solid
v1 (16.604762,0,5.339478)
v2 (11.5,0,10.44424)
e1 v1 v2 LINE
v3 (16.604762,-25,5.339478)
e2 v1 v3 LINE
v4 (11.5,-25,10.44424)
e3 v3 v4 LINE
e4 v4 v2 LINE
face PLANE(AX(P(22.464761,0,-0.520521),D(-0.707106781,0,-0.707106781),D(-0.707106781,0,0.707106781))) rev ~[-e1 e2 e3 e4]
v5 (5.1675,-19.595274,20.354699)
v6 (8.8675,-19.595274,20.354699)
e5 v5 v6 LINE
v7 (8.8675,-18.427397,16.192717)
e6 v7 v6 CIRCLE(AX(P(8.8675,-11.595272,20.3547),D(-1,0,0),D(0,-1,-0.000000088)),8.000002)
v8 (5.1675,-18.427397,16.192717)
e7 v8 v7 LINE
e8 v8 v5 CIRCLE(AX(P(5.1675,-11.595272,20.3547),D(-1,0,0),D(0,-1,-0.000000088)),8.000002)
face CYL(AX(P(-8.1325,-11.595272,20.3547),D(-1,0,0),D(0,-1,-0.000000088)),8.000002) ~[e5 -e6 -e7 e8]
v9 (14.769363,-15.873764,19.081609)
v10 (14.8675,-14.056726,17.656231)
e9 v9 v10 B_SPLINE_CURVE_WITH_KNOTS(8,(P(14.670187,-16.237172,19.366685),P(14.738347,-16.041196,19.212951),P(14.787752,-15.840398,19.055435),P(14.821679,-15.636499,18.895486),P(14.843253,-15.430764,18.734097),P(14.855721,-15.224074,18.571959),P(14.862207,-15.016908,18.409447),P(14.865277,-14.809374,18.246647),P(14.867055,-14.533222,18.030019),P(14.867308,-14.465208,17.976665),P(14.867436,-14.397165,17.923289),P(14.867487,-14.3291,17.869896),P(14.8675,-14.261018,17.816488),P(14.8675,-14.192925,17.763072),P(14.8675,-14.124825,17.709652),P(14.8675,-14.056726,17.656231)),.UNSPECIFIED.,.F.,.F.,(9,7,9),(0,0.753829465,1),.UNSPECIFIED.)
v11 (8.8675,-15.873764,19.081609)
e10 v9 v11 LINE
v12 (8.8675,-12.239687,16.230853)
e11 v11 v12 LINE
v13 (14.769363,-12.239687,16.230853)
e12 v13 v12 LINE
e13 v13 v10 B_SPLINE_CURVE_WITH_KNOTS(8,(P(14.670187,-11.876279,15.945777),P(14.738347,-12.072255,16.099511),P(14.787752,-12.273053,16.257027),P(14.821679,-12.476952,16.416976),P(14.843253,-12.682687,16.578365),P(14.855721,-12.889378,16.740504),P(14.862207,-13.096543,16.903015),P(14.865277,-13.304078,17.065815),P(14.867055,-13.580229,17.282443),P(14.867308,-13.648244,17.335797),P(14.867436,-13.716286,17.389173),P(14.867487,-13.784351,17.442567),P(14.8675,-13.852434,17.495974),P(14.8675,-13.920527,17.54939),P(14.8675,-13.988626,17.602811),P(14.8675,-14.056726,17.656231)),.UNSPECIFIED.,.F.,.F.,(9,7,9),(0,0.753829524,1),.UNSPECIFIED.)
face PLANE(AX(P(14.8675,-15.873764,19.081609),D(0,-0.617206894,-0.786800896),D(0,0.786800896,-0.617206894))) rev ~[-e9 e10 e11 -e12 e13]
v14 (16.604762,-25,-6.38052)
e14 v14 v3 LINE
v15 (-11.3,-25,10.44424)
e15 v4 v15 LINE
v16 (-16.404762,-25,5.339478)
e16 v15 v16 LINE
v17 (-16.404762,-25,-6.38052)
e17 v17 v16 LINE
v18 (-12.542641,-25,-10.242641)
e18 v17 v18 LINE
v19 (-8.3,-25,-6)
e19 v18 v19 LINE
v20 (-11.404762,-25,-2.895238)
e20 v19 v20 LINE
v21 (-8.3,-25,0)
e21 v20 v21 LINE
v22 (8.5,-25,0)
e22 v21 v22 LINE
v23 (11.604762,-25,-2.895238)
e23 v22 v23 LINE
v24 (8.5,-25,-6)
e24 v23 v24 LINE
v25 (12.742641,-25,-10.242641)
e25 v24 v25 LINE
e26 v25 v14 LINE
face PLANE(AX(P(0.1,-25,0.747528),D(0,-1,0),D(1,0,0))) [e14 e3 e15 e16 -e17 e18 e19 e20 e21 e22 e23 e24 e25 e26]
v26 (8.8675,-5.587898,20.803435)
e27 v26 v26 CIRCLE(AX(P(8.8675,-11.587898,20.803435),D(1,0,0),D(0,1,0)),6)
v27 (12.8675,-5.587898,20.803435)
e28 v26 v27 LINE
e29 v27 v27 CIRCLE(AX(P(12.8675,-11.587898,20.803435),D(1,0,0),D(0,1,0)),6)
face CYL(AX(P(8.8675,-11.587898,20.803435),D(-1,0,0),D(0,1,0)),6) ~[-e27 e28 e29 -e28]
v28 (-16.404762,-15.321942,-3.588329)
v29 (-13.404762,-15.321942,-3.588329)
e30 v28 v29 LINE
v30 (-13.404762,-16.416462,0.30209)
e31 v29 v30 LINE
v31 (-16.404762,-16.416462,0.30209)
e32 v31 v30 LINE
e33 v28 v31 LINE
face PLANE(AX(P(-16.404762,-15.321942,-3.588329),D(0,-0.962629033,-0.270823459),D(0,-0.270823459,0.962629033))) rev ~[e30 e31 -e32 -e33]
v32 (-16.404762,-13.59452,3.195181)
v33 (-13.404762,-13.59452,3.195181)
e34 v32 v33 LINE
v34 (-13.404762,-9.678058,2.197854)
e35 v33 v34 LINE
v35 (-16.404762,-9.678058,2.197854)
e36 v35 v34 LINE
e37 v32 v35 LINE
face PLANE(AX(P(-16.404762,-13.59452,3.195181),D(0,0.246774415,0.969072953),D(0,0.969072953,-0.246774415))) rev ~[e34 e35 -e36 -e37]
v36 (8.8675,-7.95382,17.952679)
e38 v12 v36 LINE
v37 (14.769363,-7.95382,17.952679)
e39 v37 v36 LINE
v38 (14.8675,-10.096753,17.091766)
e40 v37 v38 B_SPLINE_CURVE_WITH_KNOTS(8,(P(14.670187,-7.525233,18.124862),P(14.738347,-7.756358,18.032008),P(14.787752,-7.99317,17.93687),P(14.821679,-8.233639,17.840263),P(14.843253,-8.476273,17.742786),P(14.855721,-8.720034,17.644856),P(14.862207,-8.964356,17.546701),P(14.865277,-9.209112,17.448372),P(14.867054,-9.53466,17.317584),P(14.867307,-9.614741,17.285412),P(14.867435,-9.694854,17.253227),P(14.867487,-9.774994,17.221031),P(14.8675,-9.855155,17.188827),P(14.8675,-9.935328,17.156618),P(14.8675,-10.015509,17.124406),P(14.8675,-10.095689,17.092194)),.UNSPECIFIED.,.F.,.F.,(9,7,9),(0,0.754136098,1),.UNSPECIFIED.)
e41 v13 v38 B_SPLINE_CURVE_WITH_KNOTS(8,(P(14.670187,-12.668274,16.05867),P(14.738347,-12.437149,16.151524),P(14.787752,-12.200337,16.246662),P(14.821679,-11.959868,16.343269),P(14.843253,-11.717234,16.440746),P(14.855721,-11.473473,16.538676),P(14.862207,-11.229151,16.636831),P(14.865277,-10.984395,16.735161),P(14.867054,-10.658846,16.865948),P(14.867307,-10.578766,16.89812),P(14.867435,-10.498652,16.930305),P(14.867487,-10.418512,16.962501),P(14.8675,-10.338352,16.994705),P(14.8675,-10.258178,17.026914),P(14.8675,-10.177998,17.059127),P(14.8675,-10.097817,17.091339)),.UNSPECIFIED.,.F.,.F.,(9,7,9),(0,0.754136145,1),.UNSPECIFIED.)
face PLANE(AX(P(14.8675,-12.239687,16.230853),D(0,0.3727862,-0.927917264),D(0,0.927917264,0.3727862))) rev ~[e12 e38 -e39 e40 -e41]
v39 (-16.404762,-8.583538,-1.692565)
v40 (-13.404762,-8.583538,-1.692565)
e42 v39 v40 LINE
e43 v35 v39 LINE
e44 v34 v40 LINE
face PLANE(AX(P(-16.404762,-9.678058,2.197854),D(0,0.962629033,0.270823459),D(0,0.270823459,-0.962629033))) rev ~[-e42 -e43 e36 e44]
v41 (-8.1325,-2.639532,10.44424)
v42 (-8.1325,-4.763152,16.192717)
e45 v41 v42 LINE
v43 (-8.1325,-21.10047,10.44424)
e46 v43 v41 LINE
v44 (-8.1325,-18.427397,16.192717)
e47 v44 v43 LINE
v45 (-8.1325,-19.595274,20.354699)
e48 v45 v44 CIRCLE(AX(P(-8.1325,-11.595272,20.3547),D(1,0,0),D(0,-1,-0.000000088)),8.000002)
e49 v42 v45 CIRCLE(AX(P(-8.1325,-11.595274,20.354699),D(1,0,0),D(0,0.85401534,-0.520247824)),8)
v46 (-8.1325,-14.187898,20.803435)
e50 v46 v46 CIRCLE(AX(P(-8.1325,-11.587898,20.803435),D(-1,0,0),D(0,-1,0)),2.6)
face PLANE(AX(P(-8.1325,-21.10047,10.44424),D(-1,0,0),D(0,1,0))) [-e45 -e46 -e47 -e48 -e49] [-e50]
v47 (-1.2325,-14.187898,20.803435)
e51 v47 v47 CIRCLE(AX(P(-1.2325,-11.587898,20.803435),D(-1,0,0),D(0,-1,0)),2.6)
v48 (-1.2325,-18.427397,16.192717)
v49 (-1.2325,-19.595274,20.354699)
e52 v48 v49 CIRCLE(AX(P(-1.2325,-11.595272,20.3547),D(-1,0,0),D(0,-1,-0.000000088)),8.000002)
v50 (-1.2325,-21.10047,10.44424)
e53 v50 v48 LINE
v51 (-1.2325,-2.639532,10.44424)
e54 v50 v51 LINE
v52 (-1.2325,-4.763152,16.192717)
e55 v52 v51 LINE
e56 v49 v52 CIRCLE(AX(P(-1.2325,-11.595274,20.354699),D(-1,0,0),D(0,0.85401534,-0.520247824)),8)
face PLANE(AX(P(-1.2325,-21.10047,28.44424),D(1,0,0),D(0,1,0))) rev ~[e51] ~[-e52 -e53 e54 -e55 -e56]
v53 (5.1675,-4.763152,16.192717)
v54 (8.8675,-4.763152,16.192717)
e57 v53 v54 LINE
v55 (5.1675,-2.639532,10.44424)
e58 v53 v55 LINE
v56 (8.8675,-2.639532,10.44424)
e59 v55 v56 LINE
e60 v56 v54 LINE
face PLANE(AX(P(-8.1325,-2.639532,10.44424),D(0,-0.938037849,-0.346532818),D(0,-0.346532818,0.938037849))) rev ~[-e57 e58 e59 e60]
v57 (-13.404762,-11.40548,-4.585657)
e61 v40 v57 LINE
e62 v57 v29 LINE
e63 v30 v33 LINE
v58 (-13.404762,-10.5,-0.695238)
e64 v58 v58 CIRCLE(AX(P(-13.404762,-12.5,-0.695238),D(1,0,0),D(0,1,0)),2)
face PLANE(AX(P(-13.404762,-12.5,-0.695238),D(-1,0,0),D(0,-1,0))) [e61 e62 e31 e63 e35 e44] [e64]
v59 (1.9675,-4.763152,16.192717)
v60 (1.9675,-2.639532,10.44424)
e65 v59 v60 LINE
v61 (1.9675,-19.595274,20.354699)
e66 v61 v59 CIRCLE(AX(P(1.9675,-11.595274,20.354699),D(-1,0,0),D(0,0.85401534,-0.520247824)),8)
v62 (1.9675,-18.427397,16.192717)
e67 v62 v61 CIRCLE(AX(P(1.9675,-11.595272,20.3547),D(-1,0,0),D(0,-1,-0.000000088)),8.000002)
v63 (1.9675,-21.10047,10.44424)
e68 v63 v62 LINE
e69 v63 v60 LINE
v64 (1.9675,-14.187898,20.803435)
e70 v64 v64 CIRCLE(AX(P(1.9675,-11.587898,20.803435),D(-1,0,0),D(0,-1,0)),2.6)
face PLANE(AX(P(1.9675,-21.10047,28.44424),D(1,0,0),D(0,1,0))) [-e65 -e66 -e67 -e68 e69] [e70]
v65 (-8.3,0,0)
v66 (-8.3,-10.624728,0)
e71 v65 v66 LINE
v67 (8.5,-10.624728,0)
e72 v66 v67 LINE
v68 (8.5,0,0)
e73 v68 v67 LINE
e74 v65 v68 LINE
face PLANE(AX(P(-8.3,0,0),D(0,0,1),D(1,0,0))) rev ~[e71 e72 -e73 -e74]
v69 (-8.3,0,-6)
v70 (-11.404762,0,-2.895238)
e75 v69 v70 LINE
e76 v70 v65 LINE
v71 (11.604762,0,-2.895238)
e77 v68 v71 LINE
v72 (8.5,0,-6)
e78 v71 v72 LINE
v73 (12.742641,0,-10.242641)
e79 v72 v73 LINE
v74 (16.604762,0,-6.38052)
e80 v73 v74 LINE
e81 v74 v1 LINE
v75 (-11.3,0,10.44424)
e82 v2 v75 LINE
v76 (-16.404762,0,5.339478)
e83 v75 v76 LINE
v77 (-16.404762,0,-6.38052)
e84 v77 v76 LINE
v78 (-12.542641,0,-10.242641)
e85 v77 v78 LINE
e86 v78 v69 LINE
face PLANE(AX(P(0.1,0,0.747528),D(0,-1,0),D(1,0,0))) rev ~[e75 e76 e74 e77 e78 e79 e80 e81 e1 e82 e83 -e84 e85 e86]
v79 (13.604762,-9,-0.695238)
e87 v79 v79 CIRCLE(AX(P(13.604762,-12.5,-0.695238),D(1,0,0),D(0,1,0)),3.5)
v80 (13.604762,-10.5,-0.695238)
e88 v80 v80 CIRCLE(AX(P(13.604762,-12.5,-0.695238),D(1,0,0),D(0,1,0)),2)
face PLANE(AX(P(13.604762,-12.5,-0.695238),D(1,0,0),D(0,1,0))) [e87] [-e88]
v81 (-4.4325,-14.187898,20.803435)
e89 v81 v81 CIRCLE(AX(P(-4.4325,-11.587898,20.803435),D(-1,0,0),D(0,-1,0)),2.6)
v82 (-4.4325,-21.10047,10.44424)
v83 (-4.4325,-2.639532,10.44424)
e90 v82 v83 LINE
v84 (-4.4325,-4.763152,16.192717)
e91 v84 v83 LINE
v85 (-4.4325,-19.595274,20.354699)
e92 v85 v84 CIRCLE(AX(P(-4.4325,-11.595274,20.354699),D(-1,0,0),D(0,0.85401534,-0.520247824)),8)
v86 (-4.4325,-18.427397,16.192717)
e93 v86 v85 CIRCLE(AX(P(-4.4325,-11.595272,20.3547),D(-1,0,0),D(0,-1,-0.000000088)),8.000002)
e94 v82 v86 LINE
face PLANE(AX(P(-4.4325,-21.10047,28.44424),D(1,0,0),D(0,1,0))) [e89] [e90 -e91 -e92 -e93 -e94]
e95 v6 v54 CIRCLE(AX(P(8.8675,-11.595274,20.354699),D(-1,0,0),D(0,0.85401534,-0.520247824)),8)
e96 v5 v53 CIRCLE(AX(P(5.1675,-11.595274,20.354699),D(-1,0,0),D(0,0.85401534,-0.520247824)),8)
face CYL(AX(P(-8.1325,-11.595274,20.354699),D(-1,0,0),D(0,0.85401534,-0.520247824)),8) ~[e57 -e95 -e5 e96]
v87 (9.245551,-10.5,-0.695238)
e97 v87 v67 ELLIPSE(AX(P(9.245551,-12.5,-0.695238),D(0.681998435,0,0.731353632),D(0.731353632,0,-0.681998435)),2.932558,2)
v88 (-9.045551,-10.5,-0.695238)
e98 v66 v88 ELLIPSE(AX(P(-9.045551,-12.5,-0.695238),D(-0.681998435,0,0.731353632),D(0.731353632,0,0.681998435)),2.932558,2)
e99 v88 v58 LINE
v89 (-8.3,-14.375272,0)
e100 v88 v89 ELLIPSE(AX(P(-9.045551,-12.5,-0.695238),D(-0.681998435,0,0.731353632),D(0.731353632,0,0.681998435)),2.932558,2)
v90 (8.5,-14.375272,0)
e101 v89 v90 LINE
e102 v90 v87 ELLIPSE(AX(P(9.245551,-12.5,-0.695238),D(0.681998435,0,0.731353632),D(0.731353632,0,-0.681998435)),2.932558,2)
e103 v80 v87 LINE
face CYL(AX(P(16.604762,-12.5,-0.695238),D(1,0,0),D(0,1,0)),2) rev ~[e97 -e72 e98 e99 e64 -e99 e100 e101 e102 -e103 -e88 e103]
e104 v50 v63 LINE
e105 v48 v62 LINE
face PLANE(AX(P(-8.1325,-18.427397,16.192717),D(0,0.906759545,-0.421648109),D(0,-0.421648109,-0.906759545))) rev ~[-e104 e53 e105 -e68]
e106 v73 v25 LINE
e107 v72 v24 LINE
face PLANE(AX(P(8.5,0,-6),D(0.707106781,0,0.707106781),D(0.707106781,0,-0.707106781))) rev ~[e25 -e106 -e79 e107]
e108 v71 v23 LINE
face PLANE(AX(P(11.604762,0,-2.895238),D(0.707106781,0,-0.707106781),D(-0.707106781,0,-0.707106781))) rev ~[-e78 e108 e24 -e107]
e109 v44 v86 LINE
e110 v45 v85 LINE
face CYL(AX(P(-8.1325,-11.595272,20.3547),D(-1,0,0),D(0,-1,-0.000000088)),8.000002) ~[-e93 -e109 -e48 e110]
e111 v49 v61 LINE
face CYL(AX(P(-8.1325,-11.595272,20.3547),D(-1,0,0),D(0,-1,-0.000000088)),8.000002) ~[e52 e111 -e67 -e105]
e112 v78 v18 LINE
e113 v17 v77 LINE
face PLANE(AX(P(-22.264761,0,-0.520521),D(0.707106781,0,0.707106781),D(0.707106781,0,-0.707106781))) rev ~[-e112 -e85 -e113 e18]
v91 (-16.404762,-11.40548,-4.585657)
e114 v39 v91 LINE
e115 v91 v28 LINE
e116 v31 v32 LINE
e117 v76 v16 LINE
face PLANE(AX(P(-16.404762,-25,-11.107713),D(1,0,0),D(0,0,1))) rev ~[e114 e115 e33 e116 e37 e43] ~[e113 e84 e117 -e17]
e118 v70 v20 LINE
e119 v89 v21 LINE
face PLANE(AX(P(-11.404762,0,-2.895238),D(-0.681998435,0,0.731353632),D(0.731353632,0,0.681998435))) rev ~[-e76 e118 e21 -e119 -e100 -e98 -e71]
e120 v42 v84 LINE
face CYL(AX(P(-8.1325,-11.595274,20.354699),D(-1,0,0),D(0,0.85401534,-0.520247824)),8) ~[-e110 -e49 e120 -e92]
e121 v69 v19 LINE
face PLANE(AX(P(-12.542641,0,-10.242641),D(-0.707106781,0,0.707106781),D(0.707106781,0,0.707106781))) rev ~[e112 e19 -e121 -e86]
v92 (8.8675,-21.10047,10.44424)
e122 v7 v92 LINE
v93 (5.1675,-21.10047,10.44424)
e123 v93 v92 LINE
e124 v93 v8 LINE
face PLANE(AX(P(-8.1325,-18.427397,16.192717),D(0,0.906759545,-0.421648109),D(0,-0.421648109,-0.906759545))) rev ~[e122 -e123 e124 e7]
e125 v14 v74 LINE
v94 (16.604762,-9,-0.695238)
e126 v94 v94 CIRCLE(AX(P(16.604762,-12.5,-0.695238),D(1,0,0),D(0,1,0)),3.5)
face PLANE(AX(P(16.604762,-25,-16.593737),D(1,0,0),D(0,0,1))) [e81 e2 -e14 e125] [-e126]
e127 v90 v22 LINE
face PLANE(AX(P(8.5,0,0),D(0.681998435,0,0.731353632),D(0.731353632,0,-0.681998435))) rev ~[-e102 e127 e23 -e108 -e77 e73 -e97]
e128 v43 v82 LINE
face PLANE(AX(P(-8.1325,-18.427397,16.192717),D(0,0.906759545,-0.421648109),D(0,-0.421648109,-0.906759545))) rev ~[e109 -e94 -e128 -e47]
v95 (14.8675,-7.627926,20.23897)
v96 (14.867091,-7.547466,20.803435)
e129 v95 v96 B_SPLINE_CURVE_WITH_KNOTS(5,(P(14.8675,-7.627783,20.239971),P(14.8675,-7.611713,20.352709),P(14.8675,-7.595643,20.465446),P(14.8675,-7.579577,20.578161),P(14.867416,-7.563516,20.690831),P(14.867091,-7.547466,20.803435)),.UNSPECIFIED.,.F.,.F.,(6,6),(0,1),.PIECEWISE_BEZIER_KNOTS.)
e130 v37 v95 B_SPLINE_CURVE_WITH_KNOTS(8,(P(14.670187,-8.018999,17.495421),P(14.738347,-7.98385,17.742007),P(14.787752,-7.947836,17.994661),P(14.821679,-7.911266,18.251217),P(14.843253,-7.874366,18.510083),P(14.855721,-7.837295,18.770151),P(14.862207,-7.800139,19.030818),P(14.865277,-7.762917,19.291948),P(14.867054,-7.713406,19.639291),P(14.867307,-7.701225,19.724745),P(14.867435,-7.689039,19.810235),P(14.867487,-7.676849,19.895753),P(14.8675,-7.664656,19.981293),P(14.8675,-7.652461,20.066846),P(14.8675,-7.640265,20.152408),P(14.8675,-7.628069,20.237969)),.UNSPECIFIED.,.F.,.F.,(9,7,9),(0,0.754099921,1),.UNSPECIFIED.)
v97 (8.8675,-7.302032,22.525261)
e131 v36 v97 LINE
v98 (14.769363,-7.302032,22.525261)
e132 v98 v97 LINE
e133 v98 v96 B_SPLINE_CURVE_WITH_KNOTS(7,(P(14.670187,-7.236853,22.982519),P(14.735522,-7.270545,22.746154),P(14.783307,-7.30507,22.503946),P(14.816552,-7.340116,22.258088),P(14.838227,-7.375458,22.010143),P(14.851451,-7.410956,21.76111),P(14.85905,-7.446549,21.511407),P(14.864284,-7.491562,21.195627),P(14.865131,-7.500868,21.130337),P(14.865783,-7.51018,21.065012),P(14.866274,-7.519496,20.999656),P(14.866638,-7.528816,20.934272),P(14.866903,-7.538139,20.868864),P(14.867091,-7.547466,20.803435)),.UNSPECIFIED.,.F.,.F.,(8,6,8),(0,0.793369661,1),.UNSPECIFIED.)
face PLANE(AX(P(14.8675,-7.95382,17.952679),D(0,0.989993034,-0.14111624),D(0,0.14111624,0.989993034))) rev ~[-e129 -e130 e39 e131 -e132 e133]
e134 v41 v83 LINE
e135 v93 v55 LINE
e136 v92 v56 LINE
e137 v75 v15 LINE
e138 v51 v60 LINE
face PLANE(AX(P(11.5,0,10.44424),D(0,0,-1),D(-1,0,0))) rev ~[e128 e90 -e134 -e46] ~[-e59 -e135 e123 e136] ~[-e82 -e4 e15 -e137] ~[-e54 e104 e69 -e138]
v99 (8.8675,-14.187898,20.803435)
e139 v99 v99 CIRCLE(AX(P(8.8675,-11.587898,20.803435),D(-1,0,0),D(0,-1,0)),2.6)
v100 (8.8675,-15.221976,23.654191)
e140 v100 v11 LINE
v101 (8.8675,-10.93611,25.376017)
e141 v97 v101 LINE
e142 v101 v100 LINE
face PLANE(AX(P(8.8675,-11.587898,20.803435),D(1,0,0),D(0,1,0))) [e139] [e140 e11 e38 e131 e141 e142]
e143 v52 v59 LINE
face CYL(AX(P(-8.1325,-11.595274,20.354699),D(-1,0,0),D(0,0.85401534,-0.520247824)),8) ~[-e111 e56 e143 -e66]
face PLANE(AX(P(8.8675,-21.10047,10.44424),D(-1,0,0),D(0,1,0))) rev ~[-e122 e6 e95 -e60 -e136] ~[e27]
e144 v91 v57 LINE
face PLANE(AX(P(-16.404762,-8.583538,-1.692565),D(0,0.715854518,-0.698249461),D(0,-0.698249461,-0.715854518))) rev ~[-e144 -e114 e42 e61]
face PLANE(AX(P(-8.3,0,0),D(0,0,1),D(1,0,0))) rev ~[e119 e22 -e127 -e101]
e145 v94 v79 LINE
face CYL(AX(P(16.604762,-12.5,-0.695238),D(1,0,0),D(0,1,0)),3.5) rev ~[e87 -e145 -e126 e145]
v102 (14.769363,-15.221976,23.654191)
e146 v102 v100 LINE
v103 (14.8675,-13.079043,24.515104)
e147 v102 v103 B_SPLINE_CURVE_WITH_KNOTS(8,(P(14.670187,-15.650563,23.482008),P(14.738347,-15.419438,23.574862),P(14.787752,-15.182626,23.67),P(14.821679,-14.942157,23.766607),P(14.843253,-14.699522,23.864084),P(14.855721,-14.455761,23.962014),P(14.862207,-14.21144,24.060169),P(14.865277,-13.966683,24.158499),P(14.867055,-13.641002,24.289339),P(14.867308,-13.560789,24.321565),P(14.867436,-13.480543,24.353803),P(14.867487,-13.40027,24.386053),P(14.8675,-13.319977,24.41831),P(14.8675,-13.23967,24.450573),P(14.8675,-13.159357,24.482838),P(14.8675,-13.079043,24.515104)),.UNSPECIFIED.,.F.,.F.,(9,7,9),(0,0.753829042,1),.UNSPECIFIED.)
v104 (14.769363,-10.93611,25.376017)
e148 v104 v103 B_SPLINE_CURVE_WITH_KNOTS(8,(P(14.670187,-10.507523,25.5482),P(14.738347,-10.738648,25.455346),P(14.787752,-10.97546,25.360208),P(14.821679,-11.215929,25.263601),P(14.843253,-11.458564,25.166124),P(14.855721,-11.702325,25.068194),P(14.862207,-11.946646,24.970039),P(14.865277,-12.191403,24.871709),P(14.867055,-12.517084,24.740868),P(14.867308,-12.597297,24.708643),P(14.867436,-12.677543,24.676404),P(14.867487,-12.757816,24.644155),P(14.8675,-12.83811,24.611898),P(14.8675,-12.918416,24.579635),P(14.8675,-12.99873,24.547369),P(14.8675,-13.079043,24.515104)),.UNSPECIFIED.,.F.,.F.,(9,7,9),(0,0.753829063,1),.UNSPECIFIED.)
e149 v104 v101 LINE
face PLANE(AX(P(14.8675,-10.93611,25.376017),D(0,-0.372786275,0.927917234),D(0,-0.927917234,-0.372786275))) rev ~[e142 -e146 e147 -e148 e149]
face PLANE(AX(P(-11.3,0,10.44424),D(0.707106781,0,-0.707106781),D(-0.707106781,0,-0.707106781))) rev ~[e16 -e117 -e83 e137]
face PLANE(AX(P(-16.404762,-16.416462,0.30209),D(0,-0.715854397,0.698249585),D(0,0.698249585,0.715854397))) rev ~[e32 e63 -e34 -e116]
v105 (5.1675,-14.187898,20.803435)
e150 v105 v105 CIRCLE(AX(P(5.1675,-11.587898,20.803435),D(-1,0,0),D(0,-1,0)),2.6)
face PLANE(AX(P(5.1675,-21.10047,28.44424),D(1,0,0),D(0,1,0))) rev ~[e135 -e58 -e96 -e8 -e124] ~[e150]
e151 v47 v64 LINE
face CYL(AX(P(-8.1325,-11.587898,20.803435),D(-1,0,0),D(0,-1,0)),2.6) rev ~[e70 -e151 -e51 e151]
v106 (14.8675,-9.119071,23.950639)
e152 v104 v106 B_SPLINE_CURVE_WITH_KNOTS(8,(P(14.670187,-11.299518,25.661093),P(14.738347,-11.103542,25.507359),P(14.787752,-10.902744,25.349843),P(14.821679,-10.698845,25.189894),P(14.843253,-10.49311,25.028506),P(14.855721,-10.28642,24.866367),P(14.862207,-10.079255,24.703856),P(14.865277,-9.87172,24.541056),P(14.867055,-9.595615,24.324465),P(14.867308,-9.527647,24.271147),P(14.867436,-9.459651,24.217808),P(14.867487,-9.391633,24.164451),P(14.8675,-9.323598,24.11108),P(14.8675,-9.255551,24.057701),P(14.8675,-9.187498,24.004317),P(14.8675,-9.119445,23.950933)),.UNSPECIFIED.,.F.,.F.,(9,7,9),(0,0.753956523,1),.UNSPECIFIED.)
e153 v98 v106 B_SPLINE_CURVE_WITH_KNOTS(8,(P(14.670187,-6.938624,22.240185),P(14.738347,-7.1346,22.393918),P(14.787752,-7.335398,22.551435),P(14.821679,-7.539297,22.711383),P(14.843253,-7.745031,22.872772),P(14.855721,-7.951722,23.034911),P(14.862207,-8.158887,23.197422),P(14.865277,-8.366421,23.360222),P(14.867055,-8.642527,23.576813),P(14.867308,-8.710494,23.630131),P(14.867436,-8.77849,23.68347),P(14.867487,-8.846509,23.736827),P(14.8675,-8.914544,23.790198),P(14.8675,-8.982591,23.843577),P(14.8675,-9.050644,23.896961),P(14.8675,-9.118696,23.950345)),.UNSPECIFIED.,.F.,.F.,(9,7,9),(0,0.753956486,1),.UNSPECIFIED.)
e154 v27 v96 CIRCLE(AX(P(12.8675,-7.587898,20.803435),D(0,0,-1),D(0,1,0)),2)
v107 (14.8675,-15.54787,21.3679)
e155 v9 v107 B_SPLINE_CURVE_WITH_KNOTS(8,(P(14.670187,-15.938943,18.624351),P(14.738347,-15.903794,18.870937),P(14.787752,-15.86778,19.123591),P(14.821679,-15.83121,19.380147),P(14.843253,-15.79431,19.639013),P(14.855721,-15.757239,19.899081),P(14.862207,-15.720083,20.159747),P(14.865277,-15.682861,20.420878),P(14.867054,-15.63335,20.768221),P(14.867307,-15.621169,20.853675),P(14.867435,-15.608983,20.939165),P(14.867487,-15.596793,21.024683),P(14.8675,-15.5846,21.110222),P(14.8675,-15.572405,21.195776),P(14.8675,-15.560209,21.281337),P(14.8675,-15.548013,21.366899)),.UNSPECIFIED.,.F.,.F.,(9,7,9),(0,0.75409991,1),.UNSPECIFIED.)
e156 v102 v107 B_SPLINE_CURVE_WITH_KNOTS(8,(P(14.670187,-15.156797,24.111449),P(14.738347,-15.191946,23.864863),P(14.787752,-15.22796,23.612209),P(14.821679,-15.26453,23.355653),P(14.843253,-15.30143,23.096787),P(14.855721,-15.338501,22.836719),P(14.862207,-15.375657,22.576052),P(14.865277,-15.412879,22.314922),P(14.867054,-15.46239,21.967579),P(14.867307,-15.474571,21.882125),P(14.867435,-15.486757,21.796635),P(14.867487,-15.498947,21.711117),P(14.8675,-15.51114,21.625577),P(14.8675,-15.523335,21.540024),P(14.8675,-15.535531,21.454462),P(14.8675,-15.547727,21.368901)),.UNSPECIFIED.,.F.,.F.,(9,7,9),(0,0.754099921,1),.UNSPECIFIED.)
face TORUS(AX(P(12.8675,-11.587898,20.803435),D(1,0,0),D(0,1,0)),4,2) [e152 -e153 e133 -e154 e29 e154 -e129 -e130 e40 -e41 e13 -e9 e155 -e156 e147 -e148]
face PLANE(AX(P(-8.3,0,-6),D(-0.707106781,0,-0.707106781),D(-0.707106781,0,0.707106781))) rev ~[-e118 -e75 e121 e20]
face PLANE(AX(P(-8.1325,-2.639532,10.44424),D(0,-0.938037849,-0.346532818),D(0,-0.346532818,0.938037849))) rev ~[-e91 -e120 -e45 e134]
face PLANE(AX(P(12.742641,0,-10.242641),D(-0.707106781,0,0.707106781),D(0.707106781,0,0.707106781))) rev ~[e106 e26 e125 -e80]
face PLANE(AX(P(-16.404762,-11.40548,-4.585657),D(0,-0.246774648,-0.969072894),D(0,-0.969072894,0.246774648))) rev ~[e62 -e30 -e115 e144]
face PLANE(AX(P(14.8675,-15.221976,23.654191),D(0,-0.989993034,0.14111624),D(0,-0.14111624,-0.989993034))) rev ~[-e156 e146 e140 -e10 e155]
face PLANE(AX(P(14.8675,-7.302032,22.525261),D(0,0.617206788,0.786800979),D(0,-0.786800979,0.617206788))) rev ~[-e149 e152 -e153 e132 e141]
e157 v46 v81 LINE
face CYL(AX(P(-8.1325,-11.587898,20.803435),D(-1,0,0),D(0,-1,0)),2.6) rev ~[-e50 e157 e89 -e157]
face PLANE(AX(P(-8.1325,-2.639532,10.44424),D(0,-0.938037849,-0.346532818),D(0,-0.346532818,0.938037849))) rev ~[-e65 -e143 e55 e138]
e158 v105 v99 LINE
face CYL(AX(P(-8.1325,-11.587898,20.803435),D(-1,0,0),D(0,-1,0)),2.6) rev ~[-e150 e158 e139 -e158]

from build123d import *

# Parameters (mm, degrees)
F1_DEPTH  = 25
F2_W      = 7.596032
F2_H      = 21.10009
F2_W_2    = 10.268714
F2_H_2    = 30.102797
F3_DEPTH  = 25
F4_R      = 2
F5_DEPTH  = 35
F6_R      = 3.5
F7_DEPTH  = 3
F9_DEPTH  = 3
F10_W     = 17
F10_H     = 18.460938
F11_DEPTH = 18
F12_W     = 3.2
F12_H     = 18.460938
F13_DEPTH = 18
F15_DEPTH = 25
F16_R     = 2.6
F17_DEPTH = 25
F18_R     = 6
F19_DEPTH = 6
F20_R     = 2
F22_DEPTH = 6


with BuildPart() as f1:
    # F0 (on Front) → F1 (new body)
    with BuildSketch(Plane.XZ):
        Polygon((-11.404762, -2.895238), (-8.3, 0), (8.5, 0), (11.604762, -2.895238), (8.5, -6), (12.742641, -10.242641), (22.464761, -0.520521), (11.5, 10.44424), (-11.3, 10.44424), (-22.264761, -0.520521), (-12.542641, -10.242641), (-8.3, -6), align=None)
    extrude(amount=F1_DEPTH)

    # F2 (on face) → F3 (cut)
    with BuildSketch(Plane.XZ.offset(25)):
        with Locations((-20.202778, -0.557668)):
            Rectangle(F2_W, F2_H)
        with Locations((21.739119, -1.542339)):
            Rectangle(F2_W_2, F2_H_2)
    extrude(amount=-F3_DEPTH, mode=Mode.SUBTRACT)

    # F4 (on face) → F5 (cut)
    with BuildSketch(Plane.YZ.offset(16.604762)):
        with Locations((-12.5, -0.695238)):
            Circle(F4_R)
    extrude(amount=-F5_DEPTH, mode=Mode.SUBTRACT)

    # F6 (on face) → F7 (cut)
    with BuildSketch(Plane.YZ.offset(16.604762)):
        with Locations((-12.5, -0.695238)):
            Circle(F6_R)
    extrude(amount=-F7_DEPTH, mode=Mode.SUBTRACT)

    # F8 (on face) → F9 (cut)
    with BuildSketch(Plane(origin=(-16.404762, 0, 0), x_dir=(0, -1, 0), z_dir=(-1, 0, 0))):
        Polygon((15.321942, -3.588329), (16.416462, 0.30209), (13.59452, 3.195181), (9.678058, 2.197854), (8.583538, -1.692565), (11.40548, -4.585657), align=None)
    extrude(amount=-F9_DEPTH, mode=Mode.SUBTRACT)

    # F10 (on face) → F11 (join)
    with BuildSketch(Plane.XY.offset(10.44424)):
        with Locations((0.3675, -11.870001)):
            Rectangle(F10_W, F10_H)
    extrude(amount=F11_DEPTH)

    # F12 (on face) → F13 (cut)
    with BuildSketch(Plane.XY.offset(28.44424)):
        with Locations((-2.8325, -11.870001)):
            Rectangle(F12_W, F12_H)
        with Locations((3.5675, -11.870001)):
            Rectangle(F12_W, F12_H)
    extrude(amount=-F13_DEPTH, mode=Mode.SUBTRACT)

    # F14 (on face) → F15 (cut)
    with BuildSketch(Plane(origin=(-8.1325, 0, 0), x_dir=(0, -1, 0), z_dir=(-1, 0, 0))):
        with BuildLine():
            ThreePointArc((4.763152, 16.192717), (9.433907, 28.057198), (19.595274, 20.354699))
            ThreePointArc((19.595274, 20.354699), (19.297773, 18.193332), (18.427397, 16.192717))
            Line((18.427397, 16.192717), (21.10047, 10.44424))
            Line((21.10047, 10.44424), (21.10047, 28.44424))
            Line((21.10047, 28.44424), (2.639532, 28.44424))
            Line((2.639532, 28.44424), (2.639532, 10.44424))
            Line((2.639532, 10.44424), (4.763152, 16.192717))
        make_face()
    extrude(amount=-F15_DEPTH, mode=Mode.SUBTRACT)

    # F16 (on face) → F17 (cut)
    with BuildSketch(Plane(origin=(-8.1325, 0, 0), x_dir=(0, -1, 0), z_dir=(-1, 0, 0))):
        with Locations((11.587898, 20.803435)):
            Circle(F16_R)
    extrude(amount=-F17_DEPTH, mode=Mode.SUBTRACT)

    # F18 (on face) → F19 (join)
    with BuildSketch(Plane.YZ.offset(8.8675)):
        with Locations((-11.587898, 20.803435)):
            Circle(F18_R)
    extrude(amount=F19_DEPTH)

    # F20
    f20_edges = [f1.edges().sort_by_distance(p)[0] for p in [
        (14.8675, -17.587898, 20.803435),
    ]]
    fillet(f20_edges, radius=F20_R)

    # F21 (on face) → F22 (cut)
    with BuildSketch(Plane.YZ.offset(14.8675)):
        Polygon((-12.239687, 16.230853), (-7.95382, 17.952679), (-7.302032, 22.525261), (-10.93611, 25.376017), (-15.221976, 23.654191), (-15.873764, 19.081609), align=None)
    extrude(amount=-F22_DEPTH, mode=Mode.SUBTRACT)


solid = f1.part
